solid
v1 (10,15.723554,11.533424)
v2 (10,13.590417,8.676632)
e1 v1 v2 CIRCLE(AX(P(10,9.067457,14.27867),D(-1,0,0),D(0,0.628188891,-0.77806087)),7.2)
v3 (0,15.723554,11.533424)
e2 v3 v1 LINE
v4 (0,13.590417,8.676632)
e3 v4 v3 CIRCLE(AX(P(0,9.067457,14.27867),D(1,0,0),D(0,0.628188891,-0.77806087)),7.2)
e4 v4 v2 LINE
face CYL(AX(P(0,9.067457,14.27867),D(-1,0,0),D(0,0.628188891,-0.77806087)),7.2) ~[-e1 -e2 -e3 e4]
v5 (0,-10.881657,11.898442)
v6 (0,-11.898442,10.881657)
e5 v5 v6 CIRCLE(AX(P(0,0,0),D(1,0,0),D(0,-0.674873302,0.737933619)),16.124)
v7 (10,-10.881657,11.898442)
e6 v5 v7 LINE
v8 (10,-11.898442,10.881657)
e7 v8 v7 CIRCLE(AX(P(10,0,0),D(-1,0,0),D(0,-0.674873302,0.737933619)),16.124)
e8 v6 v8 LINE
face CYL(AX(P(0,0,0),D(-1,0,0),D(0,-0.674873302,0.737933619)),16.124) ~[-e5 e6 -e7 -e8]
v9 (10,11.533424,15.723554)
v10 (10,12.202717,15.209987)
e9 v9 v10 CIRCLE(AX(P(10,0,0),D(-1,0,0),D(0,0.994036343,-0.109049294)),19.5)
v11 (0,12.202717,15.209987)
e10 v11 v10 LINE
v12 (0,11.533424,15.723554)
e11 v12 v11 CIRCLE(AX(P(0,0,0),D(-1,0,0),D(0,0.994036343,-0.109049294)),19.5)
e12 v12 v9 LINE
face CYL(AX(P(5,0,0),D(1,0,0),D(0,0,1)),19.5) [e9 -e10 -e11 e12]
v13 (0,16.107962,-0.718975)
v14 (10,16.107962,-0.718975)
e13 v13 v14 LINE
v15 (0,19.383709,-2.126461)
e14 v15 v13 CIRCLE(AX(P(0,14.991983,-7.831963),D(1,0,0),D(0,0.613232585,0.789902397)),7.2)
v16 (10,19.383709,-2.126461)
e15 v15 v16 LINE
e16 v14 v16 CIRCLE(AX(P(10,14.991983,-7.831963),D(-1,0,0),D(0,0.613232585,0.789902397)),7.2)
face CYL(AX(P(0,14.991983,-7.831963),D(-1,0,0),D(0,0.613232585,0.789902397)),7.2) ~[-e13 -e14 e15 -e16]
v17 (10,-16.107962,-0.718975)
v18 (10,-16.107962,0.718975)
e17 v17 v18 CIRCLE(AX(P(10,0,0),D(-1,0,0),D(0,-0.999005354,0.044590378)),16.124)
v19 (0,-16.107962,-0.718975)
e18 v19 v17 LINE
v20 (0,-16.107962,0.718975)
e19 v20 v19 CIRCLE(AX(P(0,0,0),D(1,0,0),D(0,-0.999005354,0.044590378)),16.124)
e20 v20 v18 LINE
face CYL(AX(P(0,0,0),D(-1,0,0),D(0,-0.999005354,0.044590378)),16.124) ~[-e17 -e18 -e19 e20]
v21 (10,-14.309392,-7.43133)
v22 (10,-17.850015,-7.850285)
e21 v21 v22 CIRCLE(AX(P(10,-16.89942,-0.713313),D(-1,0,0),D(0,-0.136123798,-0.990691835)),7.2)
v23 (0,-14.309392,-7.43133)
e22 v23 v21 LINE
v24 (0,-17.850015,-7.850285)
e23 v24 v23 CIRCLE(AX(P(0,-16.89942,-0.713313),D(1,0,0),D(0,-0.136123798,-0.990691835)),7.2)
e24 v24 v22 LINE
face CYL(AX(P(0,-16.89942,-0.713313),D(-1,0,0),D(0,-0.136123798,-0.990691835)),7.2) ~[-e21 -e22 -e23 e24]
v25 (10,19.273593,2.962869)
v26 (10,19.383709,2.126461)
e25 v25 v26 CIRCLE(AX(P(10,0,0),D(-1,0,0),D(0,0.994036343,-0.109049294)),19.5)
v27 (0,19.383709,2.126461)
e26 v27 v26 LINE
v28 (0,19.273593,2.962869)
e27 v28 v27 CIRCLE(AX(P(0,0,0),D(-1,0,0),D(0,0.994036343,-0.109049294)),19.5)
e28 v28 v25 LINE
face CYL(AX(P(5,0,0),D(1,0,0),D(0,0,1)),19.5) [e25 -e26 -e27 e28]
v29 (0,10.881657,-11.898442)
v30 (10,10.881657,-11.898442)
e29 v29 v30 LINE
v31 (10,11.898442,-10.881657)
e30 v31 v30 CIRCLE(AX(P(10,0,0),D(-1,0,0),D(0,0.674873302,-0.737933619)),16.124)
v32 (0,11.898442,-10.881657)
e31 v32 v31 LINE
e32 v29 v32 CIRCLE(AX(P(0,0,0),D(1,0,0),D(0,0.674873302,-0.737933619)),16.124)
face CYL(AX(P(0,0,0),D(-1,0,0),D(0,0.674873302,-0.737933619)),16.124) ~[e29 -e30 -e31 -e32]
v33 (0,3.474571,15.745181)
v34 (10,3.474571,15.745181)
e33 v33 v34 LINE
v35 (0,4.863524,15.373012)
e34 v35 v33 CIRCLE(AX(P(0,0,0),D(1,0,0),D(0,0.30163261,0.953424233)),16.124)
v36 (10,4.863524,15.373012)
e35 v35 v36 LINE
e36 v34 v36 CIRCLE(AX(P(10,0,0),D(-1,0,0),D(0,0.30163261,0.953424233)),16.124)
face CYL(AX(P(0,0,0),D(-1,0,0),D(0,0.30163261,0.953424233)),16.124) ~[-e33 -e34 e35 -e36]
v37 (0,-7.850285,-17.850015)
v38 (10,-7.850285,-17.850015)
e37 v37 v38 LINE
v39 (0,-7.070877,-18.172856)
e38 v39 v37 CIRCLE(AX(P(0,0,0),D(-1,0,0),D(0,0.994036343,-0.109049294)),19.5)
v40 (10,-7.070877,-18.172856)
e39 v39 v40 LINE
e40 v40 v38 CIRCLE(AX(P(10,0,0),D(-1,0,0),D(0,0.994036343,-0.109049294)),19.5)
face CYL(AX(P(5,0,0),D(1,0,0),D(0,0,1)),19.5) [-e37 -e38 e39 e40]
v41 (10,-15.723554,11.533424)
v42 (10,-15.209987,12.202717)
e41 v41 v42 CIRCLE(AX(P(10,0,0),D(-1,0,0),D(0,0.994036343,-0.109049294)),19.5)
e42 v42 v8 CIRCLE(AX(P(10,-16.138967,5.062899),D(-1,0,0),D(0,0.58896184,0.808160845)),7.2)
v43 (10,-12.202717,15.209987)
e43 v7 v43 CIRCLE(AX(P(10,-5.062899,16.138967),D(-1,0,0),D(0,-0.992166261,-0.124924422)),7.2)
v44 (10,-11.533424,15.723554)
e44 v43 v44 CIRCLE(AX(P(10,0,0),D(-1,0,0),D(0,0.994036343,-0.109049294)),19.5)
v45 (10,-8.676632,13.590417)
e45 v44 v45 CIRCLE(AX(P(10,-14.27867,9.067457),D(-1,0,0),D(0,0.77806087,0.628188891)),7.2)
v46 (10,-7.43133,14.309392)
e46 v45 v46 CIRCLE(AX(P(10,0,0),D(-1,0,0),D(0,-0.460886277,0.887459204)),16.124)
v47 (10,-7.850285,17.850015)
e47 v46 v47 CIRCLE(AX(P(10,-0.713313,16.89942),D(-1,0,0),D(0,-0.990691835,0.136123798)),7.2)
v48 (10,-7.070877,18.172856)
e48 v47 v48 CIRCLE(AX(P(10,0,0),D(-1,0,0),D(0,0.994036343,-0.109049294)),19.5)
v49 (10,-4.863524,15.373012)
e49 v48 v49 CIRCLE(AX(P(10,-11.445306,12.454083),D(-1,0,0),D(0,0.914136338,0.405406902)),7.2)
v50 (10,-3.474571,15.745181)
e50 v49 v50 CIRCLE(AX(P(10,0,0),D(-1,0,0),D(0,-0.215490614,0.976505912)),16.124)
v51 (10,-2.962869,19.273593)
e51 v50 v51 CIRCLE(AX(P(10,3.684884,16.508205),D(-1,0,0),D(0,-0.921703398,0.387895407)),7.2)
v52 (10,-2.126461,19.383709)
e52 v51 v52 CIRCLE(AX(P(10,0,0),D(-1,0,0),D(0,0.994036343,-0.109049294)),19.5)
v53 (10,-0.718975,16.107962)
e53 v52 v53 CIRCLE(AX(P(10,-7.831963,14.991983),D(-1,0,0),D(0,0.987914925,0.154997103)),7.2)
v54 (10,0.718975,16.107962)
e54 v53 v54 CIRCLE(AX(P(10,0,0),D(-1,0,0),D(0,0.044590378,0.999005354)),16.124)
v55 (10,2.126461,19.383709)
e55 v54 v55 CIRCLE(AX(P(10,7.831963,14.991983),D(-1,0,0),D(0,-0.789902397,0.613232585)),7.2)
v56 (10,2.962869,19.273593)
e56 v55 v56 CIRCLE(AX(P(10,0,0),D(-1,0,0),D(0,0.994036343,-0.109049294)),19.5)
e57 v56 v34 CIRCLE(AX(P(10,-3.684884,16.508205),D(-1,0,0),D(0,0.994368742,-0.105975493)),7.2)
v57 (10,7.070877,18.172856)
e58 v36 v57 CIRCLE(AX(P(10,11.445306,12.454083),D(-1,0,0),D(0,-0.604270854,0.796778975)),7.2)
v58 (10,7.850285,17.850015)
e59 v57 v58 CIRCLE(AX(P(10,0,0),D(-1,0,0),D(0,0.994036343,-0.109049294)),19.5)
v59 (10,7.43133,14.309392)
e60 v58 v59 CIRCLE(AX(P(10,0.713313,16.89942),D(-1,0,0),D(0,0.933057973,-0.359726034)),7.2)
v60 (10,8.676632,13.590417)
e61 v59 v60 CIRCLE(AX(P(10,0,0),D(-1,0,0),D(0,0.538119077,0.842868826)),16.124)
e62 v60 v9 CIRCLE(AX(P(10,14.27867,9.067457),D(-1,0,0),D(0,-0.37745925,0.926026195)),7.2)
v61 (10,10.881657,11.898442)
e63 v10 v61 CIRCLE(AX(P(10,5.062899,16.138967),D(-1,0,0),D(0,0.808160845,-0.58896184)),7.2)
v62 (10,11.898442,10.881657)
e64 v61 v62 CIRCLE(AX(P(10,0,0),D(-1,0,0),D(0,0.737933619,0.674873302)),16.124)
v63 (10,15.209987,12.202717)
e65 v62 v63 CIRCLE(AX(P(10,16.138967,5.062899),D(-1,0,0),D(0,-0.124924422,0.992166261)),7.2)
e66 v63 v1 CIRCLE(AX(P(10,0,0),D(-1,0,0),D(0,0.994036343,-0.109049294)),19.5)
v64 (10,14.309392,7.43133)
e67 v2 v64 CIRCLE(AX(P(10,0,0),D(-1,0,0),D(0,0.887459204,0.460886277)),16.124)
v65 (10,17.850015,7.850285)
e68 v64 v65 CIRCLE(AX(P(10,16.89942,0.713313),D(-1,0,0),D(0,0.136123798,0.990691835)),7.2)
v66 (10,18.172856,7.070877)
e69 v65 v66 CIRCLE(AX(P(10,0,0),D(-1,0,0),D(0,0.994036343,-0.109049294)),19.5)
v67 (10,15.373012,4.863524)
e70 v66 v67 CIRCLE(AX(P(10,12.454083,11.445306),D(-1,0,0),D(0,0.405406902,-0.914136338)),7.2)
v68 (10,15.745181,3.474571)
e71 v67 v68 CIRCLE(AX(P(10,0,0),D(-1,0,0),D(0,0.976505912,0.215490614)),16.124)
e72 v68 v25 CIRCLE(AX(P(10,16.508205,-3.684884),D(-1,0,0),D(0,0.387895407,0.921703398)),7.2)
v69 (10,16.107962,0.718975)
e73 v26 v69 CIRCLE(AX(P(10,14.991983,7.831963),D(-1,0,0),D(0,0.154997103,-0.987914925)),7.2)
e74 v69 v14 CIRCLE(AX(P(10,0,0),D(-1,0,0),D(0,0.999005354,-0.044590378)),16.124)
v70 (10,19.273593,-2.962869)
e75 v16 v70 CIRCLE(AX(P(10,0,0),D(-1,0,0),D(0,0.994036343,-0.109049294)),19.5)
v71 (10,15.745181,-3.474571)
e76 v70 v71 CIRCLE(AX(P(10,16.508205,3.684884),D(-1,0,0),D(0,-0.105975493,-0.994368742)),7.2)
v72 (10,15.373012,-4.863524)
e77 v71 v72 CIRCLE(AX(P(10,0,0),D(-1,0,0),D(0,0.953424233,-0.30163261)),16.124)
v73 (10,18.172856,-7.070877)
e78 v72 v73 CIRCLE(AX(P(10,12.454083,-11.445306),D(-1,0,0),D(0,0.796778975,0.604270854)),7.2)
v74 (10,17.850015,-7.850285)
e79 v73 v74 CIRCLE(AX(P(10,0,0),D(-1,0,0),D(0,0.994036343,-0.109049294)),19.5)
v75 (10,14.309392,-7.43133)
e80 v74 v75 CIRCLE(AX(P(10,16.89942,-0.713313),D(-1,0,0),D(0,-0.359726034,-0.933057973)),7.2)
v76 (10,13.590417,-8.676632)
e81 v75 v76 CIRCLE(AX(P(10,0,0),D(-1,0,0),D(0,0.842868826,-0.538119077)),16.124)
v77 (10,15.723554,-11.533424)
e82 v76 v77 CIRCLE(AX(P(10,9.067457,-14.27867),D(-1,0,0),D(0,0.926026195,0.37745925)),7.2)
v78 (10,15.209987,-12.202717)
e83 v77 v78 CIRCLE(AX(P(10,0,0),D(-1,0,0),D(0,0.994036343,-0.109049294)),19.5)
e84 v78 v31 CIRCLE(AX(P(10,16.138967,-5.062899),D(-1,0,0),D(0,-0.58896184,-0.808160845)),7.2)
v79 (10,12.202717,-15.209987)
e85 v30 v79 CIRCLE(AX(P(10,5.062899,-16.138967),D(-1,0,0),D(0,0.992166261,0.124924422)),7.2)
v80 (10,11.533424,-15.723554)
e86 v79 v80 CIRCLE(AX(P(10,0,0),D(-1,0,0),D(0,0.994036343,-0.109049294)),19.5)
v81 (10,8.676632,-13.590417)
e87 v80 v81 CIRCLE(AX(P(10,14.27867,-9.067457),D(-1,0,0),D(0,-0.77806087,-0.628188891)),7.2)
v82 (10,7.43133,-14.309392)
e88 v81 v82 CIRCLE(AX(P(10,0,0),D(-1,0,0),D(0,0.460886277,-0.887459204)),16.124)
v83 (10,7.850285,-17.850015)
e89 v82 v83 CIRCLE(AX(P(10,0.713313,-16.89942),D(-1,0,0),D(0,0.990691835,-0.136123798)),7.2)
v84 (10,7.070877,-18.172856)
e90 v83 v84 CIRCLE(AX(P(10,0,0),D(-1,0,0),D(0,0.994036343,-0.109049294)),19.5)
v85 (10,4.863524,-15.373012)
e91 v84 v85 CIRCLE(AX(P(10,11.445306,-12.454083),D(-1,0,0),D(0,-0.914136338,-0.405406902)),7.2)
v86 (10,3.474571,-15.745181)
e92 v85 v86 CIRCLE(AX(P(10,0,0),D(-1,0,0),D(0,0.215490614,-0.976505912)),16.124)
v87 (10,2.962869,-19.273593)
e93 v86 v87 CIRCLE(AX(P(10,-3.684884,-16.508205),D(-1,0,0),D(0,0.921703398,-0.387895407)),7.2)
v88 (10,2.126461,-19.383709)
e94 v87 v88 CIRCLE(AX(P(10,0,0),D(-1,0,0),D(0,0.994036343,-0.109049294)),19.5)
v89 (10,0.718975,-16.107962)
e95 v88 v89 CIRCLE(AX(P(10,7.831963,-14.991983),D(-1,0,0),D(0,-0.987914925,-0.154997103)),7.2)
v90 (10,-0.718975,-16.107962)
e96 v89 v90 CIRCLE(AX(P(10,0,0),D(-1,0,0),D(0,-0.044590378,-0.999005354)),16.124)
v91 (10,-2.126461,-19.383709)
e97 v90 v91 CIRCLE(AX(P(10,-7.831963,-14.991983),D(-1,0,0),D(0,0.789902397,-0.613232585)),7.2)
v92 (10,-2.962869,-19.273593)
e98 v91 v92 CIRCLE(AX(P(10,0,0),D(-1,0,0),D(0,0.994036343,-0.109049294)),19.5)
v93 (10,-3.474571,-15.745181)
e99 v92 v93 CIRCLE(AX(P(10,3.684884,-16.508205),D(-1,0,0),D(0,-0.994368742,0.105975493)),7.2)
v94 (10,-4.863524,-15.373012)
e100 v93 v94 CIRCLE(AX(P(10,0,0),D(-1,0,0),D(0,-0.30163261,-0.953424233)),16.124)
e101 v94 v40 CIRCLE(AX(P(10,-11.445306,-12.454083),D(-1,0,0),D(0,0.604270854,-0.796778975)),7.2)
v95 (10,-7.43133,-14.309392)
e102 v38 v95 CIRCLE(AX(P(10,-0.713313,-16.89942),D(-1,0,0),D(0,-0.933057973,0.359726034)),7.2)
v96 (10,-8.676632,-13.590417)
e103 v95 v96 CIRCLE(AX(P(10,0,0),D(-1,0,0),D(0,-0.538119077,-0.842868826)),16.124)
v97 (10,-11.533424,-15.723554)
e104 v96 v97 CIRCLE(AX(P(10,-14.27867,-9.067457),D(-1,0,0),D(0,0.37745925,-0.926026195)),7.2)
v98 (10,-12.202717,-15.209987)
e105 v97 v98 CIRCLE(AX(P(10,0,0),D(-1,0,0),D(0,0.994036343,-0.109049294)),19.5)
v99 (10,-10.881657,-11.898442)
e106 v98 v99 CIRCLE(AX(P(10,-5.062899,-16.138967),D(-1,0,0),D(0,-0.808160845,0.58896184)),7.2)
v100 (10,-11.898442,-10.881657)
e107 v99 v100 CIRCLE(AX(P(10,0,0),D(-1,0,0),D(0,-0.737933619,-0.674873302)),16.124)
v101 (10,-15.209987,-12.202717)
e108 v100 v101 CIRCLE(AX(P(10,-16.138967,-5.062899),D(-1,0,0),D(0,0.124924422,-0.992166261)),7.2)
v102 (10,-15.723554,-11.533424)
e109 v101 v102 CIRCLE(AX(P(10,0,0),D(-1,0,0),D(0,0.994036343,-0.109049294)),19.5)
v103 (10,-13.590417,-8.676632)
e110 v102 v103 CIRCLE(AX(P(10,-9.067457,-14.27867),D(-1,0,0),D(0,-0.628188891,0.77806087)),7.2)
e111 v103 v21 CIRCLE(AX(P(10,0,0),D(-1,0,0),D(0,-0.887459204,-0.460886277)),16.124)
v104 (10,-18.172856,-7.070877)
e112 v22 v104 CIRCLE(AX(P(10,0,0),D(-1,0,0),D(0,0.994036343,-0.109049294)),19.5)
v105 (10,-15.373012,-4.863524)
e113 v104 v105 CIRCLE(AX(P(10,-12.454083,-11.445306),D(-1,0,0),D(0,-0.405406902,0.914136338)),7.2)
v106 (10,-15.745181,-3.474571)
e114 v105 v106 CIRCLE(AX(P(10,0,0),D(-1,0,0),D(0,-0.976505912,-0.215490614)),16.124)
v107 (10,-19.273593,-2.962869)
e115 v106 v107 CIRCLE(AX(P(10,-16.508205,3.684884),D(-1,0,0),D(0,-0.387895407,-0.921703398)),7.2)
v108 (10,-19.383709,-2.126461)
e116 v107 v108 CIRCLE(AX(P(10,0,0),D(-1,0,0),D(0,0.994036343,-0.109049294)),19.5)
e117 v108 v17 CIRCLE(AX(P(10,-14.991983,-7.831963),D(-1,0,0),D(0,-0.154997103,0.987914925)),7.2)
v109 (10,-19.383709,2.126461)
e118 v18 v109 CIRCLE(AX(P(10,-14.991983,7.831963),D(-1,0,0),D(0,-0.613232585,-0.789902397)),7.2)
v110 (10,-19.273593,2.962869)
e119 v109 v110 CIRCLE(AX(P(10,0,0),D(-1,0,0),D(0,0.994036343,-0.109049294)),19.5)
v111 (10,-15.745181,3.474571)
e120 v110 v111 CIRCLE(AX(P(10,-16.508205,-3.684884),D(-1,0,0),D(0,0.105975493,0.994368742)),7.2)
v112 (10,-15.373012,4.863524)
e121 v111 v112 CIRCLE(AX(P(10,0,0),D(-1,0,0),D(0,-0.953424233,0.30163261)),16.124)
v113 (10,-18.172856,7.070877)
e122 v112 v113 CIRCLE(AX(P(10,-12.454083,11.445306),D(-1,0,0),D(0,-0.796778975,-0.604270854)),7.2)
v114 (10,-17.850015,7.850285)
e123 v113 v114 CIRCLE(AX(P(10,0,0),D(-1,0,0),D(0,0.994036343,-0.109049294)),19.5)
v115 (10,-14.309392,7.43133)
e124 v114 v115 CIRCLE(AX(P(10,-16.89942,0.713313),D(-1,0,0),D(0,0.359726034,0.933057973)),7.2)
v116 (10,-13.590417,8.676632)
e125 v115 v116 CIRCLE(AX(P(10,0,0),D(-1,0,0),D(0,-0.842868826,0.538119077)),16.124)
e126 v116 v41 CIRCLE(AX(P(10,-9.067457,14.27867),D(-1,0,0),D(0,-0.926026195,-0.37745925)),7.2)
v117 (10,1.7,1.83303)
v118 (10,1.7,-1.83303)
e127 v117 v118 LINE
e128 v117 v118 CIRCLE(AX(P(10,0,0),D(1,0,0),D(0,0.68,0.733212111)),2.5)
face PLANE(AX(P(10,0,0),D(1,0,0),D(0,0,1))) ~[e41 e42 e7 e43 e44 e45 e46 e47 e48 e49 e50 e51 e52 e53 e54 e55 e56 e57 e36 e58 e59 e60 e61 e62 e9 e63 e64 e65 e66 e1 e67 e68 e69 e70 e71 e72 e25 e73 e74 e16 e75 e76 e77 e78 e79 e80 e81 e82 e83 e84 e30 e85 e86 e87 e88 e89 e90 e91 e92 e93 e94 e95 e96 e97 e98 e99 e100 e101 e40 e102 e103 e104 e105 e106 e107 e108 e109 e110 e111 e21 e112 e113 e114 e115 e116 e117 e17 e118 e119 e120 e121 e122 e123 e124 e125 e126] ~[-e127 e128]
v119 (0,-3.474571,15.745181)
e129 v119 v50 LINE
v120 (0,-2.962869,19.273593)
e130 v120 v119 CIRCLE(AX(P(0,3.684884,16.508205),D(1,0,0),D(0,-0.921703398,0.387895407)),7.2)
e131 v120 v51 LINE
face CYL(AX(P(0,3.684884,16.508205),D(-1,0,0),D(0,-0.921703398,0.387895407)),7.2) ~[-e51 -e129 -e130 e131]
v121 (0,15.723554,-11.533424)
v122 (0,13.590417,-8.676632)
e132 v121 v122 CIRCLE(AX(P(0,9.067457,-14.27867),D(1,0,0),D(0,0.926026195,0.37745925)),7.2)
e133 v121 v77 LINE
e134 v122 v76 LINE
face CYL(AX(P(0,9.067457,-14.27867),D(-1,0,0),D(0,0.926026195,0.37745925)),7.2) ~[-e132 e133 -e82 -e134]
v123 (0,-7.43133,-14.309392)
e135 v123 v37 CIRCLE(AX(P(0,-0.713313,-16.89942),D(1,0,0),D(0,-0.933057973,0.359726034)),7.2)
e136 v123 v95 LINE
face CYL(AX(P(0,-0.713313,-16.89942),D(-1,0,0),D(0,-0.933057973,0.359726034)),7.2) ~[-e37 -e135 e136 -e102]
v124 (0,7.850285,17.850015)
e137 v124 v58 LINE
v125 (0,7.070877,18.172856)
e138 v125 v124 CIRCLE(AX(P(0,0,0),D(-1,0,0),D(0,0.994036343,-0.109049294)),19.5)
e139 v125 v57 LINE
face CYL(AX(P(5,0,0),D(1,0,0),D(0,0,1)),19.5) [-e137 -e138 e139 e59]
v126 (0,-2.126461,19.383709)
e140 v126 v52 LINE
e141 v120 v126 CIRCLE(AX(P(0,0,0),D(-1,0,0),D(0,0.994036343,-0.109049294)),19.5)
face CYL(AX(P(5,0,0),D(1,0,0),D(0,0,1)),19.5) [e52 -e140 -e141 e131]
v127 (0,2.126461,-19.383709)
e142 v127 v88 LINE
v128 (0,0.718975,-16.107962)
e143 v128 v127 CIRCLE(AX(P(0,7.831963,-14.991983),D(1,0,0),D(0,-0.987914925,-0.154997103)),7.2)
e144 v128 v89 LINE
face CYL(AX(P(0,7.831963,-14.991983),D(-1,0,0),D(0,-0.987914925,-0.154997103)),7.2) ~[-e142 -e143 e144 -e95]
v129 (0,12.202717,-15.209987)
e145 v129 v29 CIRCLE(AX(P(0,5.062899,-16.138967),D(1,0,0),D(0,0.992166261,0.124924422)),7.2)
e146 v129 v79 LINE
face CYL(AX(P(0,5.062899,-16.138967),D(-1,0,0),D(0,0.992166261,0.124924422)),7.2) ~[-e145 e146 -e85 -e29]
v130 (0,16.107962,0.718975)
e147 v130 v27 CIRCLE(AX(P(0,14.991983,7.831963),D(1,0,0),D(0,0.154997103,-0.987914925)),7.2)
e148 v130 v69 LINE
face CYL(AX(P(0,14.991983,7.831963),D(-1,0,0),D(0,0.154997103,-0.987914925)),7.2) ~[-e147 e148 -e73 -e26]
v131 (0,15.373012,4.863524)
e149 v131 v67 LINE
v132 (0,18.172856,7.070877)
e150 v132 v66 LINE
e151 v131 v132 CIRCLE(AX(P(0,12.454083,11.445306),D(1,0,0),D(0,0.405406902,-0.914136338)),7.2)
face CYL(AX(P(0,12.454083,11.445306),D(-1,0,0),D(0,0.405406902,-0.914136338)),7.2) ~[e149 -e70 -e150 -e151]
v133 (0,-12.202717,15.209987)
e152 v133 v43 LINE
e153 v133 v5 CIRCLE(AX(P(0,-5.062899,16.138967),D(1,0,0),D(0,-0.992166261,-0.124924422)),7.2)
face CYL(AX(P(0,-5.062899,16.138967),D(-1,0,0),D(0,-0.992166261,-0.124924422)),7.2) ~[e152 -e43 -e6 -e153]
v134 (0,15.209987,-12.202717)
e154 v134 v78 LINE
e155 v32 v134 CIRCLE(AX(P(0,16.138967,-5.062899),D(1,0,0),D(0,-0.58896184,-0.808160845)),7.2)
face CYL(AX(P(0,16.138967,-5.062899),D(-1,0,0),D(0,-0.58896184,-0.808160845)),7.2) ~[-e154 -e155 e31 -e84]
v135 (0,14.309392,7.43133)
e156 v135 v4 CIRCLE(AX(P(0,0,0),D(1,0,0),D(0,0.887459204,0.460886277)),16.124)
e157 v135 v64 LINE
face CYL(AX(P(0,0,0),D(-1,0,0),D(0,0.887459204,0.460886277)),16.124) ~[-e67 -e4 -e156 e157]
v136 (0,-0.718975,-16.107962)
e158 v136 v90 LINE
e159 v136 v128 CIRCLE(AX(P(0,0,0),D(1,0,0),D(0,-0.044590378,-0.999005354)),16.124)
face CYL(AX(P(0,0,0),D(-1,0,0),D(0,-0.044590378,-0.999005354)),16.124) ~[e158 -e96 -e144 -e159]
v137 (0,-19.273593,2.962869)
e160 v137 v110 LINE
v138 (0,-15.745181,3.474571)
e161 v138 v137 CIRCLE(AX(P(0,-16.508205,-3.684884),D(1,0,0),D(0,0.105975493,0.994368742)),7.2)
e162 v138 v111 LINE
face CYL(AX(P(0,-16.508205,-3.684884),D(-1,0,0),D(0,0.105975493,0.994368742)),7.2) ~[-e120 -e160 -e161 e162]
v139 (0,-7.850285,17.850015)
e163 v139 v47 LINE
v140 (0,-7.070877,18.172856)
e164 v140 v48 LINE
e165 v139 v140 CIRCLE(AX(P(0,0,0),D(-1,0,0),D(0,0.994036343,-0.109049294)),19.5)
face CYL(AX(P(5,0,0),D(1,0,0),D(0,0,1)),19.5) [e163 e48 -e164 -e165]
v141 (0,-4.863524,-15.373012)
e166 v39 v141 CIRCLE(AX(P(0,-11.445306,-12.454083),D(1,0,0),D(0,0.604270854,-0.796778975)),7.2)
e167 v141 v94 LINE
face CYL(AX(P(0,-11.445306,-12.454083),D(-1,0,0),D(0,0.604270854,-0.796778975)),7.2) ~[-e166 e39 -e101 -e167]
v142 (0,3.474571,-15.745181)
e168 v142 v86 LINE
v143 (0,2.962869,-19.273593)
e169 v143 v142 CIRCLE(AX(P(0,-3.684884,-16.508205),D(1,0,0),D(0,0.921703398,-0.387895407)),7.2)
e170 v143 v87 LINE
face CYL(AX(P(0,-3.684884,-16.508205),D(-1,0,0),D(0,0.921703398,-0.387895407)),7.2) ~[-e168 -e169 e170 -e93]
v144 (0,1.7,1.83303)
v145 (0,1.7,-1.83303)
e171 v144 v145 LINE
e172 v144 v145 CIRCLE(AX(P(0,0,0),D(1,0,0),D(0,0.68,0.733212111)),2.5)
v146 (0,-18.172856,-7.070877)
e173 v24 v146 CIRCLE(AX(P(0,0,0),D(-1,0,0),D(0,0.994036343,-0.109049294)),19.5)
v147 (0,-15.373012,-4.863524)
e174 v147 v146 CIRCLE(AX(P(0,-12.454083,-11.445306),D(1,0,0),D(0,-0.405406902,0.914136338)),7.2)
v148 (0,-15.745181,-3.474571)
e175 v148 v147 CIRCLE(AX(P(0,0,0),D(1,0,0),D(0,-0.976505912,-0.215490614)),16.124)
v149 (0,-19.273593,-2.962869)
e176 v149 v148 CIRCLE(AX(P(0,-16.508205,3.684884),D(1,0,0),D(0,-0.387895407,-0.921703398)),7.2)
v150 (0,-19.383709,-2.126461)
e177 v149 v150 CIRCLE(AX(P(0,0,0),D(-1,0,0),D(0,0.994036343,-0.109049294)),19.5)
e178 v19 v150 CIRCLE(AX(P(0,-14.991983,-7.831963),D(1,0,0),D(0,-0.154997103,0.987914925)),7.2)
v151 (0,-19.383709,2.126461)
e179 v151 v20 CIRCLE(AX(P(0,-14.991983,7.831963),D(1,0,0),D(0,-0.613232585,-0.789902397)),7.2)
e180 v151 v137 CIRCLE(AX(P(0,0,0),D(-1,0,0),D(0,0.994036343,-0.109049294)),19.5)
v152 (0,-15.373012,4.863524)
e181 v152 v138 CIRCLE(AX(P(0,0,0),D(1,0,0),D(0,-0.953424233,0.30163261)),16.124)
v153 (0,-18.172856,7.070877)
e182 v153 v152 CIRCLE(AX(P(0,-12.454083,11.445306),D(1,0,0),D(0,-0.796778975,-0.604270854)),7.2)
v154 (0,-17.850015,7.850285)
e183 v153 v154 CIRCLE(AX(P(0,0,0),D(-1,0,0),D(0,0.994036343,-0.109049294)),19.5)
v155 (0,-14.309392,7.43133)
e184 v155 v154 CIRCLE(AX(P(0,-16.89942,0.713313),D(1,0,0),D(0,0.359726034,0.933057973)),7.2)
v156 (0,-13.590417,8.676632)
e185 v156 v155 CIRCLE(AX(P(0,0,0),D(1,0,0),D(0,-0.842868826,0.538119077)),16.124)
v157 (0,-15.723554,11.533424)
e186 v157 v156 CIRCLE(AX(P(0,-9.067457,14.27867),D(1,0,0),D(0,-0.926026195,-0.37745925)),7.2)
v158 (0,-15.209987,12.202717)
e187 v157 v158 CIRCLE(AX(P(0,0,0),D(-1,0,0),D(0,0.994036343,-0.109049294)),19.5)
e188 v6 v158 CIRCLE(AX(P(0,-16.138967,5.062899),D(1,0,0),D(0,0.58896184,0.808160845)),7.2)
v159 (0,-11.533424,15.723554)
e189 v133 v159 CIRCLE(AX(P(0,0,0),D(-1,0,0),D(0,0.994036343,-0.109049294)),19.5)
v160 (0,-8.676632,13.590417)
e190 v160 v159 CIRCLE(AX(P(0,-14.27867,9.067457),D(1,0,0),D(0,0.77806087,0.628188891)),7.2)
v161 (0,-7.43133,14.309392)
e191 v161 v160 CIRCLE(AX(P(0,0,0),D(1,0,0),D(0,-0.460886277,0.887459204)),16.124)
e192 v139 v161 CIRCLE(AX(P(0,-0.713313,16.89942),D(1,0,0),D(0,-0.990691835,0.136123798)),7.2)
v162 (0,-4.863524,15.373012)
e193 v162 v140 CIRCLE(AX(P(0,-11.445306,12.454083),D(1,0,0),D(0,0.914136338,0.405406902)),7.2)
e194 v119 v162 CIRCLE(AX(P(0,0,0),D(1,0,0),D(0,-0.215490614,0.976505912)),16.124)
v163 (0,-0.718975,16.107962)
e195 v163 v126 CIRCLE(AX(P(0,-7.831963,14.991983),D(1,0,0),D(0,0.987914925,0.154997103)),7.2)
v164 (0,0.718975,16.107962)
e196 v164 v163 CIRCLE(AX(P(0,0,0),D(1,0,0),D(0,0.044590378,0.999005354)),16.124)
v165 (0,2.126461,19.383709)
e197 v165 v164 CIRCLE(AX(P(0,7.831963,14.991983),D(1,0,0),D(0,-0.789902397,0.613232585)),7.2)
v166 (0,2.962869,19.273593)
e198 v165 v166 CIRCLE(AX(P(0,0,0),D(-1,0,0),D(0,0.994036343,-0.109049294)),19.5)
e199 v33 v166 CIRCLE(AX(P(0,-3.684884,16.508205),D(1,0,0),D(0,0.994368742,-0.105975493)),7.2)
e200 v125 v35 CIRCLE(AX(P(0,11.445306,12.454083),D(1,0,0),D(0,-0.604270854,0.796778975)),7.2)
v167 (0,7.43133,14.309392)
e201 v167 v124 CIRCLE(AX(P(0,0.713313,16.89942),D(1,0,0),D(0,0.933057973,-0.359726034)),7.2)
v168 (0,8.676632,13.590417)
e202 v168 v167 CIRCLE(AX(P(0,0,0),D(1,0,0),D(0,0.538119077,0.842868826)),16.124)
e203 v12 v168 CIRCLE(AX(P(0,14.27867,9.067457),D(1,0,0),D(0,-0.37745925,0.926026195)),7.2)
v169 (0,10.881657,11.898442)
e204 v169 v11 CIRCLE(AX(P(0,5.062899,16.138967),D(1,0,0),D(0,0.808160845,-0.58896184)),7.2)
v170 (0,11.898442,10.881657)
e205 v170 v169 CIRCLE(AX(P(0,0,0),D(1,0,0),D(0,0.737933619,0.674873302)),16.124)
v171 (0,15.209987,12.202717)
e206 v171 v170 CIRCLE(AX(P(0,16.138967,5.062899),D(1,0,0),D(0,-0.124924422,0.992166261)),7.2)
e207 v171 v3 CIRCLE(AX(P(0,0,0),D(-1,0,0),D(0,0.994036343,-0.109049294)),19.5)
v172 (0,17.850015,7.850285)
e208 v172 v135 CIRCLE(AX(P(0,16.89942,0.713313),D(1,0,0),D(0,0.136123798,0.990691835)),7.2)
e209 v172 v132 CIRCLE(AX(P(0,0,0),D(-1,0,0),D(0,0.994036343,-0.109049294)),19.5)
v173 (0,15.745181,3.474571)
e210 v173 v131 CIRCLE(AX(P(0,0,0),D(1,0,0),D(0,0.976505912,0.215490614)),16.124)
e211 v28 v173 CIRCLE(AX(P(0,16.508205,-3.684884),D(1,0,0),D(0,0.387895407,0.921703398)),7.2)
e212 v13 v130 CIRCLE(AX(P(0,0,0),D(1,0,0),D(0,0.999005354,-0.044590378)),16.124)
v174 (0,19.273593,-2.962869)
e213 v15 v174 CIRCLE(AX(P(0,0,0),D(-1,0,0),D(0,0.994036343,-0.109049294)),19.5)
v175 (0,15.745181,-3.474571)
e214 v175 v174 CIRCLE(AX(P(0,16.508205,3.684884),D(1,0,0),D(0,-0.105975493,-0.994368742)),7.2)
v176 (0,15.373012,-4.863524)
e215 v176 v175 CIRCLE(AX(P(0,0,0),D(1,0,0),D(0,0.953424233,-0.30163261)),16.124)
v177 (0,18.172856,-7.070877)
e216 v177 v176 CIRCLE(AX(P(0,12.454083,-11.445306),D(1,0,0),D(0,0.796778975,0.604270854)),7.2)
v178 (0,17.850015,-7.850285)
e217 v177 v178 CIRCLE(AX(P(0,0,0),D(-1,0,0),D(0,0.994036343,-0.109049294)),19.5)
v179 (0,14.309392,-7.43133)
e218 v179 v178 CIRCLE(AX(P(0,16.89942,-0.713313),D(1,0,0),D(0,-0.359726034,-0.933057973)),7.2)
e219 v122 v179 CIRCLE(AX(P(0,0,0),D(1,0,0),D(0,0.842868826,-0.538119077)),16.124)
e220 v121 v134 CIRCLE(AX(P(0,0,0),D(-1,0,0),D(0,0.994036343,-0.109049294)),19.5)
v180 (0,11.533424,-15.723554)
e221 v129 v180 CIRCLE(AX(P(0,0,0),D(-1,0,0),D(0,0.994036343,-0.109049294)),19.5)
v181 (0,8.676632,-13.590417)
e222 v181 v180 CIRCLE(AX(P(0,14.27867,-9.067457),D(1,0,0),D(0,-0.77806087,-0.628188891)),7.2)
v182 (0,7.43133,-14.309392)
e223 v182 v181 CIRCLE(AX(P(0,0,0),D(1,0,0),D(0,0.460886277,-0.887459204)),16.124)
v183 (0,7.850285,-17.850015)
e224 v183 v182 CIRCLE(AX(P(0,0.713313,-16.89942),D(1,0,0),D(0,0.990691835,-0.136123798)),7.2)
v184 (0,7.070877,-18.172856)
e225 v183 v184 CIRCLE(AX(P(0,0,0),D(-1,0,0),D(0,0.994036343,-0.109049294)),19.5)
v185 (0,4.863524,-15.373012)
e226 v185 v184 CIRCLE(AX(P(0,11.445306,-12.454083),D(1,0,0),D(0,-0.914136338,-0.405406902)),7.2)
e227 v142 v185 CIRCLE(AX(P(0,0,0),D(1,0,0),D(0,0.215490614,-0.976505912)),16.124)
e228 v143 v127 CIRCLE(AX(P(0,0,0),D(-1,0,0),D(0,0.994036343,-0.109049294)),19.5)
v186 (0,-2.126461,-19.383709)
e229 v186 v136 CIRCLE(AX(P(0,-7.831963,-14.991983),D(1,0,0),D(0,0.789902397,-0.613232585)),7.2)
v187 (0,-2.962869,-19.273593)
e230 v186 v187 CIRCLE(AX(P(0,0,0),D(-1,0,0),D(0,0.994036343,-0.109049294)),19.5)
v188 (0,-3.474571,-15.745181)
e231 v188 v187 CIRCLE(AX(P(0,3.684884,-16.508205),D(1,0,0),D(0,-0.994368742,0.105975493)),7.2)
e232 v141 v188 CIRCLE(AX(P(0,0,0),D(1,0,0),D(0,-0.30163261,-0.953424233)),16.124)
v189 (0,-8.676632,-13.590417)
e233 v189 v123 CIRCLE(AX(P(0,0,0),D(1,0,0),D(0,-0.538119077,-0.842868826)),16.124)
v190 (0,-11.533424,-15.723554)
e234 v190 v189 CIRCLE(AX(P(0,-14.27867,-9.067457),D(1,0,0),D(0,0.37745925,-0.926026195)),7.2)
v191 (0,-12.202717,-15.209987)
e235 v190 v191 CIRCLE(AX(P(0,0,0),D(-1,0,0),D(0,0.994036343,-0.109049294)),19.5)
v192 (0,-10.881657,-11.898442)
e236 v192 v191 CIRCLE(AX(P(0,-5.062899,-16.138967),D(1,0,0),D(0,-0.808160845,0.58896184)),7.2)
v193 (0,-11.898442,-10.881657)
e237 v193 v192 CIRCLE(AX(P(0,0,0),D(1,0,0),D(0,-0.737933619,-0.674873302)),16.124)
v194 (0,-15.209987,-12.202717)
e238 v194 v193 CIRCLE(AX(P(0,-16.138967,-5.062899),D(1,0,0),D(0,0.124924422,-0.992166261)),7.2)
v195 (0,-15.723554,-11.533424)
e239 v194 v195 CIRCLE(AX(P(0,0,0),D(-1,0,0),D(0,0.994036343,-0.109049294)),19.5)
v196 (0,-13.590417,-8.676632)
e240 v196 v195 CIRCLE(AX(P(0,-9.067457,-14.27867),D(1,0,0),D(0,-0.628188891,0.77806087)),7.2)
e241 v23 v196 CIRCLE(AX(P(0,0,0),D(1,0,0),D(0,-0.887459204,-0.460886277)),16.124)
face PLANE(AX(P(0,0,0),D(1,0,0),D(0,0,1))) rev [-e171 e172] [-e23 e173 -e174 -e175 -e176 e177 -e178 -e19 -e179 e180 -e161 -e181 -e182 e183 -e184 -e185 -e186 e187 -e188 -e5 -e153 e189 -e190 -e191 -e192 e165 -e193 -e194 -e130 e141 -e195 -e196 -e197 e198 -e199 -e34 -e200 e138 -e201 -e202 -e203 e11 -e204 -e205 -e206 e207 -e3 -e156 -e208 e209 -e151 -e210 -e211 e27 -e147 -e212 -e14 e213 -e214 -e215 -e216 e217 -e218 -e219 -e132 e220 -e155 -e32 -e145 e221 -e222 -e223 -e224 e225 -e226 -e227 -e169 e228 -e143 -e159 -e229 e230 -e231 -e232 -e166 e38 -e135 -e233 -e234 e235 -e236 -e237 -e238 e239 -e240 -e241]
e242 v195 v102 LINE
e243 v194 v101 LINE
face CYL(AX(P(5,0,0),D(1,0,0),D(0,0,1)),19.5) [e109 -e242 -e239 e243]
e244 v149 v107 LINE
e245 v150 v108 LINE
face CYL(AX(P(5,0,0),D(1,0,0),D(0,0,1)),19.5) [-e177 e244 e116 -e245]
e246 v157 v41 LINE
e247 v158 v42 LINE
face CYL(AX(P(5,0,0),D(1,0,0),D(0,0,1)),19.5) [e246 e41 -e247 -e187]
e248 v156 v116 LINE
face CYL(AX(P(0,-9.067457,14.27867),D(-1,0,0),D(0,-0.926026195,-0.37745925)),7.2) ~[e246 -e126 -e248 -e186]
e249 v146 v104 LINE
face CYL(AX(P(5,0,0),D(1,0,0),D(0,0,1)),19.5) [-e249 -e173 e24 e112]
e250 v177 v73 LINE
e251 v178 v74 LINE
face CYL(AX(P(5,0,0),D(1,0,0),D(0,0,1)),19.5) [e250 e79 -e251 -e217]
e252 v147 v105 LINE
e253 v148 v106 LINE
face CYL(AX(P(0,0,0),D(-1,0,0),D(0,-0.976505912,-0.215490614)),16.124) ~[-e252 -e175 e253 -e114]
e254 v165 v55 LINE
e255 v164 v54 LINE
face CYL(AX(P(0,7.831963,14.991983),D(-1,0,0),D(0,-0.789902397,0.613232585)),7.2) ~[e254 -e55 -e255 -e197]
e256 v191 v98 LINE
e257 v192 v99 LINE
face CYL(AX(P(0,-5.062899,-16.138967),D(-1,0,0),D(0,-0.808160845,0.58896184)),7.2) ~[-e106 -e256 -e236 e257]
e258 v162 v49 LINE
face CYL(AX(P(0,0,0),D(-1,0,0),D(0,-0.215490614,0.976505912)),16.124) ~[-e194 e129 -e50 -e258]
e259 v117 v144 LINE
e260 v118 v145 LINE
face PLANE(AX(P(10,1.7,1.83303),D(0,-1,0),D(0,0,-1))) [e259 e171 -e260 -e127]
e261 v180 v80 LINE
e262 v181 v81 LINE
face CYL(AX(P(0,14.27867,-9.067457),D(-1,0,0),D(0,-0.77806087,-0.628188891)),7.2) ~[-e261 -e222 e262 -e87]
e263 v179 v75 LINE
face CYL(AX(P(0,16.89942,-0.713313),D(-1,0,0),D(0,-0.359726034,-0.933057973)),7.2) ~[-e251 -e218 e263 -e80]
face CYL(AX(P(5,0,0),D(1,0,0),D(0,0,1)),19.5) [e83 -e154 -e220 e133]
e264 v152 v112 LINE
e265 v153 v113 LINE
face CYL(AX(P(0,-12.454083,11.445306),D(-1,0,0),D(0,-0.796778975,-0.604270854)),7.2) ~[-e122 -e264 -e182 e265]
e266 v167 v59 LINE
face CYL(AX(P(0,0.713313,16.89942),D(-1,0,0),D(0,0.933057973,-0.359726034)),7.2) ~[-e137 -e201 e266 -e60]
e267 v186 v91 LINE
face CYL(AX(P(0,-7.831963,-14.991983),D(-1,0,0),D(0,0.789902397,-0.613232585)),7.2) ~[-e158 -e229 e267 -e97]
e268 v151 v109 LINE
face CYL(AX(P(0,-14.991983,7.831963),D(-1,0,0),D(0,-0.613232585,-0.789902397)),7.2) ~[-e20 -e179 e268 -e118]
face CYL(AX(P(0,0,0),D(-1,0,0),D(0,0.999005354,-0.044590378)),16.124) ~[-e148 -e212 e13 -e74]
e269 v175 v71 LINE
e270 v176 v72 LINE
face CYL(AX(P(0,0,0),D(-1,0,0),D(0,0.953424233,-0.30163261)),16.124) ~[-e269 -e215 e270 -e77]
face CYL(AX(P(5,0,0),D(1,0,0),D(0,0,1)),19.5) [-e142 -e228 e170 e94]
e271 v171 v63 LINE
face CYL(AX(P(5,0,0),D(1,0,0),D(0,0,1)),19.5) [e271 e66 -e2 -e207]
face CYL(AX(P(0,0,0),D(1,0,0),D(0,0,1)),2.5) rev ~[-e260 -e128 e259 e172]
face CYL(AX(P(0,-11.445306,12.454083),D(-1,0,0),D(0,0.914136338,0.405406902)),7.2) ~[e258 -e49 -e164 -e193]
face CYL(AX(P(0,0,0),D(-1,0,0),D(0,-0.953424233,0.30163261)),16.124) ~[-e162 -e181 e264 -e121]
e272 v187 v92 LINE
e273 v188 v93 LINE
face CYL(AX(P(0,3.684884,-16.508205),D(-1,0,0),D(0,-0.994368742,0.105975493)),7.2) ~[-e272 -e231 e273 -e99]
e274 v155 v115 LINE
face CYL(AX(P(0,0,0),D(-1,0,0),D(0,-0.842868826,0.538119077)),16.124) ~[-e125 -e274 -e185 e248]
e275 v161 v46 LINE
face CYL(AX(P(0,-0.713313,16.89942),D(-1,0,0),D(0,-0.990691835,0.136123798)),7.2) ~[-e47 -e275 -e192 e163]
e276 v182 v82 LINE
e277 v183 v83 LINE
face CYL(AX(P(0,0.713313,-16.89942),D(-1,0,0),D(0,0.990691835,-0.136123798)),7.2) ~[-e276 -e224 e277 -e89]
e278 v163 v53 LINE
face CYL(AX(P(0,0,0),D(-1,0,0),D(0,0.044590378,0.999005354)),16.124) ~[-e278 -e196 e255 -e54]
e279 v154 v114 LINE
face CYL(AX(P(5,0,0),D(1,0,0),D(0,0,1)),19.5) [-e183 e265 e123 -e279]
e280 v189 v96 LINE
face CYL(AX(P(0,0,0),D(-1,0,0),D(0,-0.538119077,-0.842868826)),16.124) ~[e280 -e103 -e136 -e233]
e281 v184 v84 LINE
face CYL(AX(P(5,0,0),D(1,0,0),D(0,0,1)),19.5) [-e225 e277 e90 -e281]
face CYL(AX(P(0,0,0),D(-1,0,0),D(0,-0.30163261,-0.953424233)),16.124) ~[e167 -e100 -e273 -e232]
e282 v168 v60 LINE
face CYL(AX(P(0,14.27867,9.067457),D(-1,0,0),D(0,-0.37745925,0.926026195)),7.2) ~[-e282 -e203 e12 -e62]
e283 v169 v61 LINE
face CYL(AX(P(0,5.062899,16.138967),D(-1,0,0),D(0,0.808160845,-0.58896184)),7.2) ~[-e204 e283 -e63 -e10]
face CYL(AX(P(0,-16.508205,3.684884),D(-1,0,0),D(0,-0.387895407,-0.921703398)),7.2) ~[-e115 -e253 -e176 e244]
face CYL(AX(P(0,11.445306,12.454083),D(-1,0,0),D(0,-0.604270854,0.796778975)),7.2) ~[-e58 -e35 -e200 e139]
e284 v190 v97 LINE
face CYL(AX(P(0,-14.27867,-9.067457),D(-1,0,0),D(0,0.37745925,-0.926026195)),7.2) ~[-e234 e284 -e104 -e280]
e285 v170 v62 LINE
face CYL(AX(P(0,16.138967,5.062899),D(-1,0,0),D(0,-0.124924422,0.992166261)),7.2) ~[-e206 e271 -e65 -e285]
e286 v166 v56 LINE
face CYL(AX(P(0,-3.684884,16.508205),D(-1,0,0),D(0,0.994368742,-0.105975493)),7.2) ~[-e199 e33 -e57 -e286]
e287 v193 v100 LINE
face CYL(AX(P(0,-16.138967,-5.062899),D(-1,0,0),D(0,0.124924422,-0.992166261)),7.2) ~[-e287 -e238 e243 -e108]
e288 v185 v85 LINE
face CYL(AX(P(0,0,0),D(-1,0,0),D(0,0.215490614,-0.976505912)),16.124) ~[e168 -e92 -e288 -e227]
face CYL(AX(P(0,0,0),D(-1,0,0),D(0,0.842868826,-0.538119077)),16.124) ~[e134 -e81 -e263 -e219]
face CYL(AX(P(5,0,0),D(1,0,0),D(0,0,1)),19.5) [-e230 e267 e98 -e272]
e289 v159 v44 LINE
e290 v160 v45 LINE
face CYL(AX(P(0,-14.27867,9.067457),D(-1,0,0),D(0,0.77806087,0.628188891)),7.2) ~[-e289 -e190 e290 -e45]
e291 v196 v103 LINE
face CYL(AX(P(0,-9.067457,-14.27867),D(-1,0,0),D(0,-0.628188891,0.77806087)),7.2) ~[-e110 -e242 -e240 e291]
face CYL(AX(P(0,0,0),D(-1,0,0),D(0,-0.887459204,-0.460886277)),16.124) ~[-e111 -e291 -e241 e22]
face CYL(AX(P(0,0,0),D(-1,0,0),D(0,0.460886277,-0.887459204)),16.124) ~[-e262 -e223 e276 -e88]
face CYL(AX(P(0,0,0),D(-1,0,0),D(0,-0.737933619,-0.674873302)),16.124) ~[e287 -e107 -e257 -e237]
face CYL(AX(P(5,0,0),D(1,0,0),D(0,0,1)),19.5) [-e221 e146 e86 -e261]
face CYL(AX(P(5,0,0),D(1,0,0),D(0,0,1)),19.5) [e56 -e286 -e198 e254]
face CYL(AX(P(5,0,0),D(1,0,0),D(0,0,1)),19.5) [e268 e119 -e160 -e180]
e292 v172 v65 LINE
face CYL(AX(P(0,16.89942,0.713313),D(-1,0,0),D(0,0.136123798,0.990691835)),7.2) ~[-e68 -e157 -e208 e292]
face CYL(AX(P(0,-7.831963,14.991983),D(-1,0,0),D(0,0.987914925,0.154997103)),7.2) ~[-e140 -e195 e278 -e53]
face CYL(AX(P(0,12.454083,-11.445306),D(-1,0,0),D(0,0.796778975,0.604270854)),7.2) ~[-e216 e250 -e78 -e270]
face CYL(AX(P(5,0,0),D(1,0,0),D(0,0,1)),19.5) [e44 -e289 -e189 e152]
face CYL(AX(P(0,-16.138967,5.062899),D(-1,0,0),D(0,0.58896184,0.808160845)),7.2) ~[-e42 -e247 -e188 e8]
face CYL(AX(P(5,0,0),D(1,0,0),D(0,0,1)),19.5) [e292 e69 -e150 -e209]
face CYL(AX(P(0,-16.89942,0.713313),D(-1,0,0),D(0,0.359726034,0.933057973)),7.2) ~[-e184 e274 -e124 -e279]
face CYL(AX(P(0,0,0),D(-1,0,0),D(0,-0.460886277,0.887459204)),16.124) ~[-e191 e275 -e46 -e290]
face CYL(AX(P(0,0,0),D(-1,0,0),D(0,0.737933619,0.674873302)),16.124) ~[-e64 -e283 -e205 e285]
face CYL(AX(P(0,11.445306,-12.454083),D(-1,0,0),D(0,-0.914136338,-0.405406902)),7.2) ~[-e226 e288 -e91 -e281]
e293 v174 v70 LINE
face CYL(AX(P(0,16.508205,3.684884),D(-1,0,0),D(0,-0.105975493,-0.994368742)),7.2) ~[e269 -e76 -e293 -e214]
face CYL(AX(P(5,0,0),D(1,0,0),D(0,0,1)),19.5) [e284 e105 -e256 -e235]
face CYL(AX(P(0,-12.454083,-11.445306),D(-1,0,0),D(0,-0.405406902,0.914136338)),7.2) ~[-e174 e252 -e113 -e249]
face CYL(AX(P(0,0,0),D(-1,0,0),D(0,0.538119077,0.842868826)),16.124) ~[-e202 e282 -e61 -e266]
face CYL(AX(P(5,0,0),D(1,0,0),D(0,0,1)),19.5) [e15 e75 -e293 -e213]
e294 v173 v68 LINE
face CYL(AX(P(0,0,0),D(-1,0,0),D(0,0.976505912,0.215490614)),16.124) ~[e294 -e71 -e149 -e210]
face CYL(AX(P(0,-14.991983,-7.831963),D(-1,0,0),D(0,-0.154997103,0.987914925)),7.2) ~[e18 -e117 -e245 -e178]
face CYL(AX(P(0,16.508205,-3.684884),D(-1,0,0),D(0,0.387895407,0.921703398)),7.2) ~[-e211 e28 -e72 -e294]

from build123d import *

# Parameters (mm, degrees)
BASPROSKE_W         = 10
BASPROSKE_H         = 19.5
TOOTHCUT_DEPTH      = 30.334280288
TEETHCUTS_COUNT     = 24
TEETHCUTS_ANGLE     = 345
BORSKE_R            = 2.5
BORE_DEPTH          = 50.0000508
BOSS_EXTRUDE1_DEPTH = 10


with BuildPart() as part:
    # BasProSke → Base-Revolve (revolve)
    with BuildSketch(Plane(origin=(0, 0, 0), x_dir=(1, 0, 0), z_dir=(0, 1, 0)), mode=Mode.PRIVATE) as base_revolve_sk:
        with Locations((5, 9.75)):
            Rectangle(BASPROSKE_W, BASPROSKE_H)
    revolve(base_revolve_sk.sketch.rotate(Axis((-10, 0, 0), (1, 0, 0)), 180), axis=Axis((-10, 0, 0), (1, 0, 0)))

    # TooCutSke → ToothCut (cut, through all)
    with BuildSketch(Plane(origin=(0, 0, 0), x_dir=(0, 0, -1), z_dir=(1, 0, 0))):
        with BuildLine():
            ThreePointArc((0.718975251, 16.107962335), (0, 16.124), (-0.718975251, 16.107962335))
            ThreePointArc((-0.718975251, 16.107962335), (-1.222639001, 17.848001425), (-2.144665446, 19.407257799))
            ThreePointArc((-2.144665446, 19.407257799), (0, 19.5254), (2.144665446, 19.407257799))
            ThreePointArc((2.144665446, 19.407257799), (1.222639001, 17.848001425), (0.718975251, 16.107962335))
        make_face()
    toothcut = extrude(amount=TOOTHCUT_DEPTH, mode=Mode.SUBTRACT)

    # TeethCuts: ToothCut ×24 about axis
    teethcuts_axis = Axis((-10, 0, 0), (1, 0, 0))
    for i in range(1, TEETHCUTS_COUNT):
        add(toothcut.rotate(teethcuts_axis, i * TEETHCUTS_ANGLE / (TEETHCUTS_COUNT - 1)), mode=Mode.SUBTRACT)

    # BorSke → Bore (cut, symmetric)
    with BuildSketch(Plane(origin=(0, 0, 0), x_dir=(0, 0, -1), z_dir=(1, 0, 0))):
        with Locations(Location((0, 0, 0), (0, 0, 180))):
            Circle(BORSKE_R)
    extrude(amount=BORE_DEPTH, both=True, mode=Mode.SUBTRACT)

    # Sketch1 → Boss-Extrude1 (add)
    with BuildSketch(Plane(origin=(10, 0, 0), x_dir=(0, 0, -1), z_dir=(1, 0, 0))):
        with BuildLine():
            Line((-1.833030278, 1.7), (1.833030278, 1.7))
            ThreePointArc((1.833030278, 1.7), (0, 2.5), (-1.833030278, 1.7))
        make_face()
    extrude(amount=-BOSS_EXTRUDE1_DEPTH)


solid = part.part
